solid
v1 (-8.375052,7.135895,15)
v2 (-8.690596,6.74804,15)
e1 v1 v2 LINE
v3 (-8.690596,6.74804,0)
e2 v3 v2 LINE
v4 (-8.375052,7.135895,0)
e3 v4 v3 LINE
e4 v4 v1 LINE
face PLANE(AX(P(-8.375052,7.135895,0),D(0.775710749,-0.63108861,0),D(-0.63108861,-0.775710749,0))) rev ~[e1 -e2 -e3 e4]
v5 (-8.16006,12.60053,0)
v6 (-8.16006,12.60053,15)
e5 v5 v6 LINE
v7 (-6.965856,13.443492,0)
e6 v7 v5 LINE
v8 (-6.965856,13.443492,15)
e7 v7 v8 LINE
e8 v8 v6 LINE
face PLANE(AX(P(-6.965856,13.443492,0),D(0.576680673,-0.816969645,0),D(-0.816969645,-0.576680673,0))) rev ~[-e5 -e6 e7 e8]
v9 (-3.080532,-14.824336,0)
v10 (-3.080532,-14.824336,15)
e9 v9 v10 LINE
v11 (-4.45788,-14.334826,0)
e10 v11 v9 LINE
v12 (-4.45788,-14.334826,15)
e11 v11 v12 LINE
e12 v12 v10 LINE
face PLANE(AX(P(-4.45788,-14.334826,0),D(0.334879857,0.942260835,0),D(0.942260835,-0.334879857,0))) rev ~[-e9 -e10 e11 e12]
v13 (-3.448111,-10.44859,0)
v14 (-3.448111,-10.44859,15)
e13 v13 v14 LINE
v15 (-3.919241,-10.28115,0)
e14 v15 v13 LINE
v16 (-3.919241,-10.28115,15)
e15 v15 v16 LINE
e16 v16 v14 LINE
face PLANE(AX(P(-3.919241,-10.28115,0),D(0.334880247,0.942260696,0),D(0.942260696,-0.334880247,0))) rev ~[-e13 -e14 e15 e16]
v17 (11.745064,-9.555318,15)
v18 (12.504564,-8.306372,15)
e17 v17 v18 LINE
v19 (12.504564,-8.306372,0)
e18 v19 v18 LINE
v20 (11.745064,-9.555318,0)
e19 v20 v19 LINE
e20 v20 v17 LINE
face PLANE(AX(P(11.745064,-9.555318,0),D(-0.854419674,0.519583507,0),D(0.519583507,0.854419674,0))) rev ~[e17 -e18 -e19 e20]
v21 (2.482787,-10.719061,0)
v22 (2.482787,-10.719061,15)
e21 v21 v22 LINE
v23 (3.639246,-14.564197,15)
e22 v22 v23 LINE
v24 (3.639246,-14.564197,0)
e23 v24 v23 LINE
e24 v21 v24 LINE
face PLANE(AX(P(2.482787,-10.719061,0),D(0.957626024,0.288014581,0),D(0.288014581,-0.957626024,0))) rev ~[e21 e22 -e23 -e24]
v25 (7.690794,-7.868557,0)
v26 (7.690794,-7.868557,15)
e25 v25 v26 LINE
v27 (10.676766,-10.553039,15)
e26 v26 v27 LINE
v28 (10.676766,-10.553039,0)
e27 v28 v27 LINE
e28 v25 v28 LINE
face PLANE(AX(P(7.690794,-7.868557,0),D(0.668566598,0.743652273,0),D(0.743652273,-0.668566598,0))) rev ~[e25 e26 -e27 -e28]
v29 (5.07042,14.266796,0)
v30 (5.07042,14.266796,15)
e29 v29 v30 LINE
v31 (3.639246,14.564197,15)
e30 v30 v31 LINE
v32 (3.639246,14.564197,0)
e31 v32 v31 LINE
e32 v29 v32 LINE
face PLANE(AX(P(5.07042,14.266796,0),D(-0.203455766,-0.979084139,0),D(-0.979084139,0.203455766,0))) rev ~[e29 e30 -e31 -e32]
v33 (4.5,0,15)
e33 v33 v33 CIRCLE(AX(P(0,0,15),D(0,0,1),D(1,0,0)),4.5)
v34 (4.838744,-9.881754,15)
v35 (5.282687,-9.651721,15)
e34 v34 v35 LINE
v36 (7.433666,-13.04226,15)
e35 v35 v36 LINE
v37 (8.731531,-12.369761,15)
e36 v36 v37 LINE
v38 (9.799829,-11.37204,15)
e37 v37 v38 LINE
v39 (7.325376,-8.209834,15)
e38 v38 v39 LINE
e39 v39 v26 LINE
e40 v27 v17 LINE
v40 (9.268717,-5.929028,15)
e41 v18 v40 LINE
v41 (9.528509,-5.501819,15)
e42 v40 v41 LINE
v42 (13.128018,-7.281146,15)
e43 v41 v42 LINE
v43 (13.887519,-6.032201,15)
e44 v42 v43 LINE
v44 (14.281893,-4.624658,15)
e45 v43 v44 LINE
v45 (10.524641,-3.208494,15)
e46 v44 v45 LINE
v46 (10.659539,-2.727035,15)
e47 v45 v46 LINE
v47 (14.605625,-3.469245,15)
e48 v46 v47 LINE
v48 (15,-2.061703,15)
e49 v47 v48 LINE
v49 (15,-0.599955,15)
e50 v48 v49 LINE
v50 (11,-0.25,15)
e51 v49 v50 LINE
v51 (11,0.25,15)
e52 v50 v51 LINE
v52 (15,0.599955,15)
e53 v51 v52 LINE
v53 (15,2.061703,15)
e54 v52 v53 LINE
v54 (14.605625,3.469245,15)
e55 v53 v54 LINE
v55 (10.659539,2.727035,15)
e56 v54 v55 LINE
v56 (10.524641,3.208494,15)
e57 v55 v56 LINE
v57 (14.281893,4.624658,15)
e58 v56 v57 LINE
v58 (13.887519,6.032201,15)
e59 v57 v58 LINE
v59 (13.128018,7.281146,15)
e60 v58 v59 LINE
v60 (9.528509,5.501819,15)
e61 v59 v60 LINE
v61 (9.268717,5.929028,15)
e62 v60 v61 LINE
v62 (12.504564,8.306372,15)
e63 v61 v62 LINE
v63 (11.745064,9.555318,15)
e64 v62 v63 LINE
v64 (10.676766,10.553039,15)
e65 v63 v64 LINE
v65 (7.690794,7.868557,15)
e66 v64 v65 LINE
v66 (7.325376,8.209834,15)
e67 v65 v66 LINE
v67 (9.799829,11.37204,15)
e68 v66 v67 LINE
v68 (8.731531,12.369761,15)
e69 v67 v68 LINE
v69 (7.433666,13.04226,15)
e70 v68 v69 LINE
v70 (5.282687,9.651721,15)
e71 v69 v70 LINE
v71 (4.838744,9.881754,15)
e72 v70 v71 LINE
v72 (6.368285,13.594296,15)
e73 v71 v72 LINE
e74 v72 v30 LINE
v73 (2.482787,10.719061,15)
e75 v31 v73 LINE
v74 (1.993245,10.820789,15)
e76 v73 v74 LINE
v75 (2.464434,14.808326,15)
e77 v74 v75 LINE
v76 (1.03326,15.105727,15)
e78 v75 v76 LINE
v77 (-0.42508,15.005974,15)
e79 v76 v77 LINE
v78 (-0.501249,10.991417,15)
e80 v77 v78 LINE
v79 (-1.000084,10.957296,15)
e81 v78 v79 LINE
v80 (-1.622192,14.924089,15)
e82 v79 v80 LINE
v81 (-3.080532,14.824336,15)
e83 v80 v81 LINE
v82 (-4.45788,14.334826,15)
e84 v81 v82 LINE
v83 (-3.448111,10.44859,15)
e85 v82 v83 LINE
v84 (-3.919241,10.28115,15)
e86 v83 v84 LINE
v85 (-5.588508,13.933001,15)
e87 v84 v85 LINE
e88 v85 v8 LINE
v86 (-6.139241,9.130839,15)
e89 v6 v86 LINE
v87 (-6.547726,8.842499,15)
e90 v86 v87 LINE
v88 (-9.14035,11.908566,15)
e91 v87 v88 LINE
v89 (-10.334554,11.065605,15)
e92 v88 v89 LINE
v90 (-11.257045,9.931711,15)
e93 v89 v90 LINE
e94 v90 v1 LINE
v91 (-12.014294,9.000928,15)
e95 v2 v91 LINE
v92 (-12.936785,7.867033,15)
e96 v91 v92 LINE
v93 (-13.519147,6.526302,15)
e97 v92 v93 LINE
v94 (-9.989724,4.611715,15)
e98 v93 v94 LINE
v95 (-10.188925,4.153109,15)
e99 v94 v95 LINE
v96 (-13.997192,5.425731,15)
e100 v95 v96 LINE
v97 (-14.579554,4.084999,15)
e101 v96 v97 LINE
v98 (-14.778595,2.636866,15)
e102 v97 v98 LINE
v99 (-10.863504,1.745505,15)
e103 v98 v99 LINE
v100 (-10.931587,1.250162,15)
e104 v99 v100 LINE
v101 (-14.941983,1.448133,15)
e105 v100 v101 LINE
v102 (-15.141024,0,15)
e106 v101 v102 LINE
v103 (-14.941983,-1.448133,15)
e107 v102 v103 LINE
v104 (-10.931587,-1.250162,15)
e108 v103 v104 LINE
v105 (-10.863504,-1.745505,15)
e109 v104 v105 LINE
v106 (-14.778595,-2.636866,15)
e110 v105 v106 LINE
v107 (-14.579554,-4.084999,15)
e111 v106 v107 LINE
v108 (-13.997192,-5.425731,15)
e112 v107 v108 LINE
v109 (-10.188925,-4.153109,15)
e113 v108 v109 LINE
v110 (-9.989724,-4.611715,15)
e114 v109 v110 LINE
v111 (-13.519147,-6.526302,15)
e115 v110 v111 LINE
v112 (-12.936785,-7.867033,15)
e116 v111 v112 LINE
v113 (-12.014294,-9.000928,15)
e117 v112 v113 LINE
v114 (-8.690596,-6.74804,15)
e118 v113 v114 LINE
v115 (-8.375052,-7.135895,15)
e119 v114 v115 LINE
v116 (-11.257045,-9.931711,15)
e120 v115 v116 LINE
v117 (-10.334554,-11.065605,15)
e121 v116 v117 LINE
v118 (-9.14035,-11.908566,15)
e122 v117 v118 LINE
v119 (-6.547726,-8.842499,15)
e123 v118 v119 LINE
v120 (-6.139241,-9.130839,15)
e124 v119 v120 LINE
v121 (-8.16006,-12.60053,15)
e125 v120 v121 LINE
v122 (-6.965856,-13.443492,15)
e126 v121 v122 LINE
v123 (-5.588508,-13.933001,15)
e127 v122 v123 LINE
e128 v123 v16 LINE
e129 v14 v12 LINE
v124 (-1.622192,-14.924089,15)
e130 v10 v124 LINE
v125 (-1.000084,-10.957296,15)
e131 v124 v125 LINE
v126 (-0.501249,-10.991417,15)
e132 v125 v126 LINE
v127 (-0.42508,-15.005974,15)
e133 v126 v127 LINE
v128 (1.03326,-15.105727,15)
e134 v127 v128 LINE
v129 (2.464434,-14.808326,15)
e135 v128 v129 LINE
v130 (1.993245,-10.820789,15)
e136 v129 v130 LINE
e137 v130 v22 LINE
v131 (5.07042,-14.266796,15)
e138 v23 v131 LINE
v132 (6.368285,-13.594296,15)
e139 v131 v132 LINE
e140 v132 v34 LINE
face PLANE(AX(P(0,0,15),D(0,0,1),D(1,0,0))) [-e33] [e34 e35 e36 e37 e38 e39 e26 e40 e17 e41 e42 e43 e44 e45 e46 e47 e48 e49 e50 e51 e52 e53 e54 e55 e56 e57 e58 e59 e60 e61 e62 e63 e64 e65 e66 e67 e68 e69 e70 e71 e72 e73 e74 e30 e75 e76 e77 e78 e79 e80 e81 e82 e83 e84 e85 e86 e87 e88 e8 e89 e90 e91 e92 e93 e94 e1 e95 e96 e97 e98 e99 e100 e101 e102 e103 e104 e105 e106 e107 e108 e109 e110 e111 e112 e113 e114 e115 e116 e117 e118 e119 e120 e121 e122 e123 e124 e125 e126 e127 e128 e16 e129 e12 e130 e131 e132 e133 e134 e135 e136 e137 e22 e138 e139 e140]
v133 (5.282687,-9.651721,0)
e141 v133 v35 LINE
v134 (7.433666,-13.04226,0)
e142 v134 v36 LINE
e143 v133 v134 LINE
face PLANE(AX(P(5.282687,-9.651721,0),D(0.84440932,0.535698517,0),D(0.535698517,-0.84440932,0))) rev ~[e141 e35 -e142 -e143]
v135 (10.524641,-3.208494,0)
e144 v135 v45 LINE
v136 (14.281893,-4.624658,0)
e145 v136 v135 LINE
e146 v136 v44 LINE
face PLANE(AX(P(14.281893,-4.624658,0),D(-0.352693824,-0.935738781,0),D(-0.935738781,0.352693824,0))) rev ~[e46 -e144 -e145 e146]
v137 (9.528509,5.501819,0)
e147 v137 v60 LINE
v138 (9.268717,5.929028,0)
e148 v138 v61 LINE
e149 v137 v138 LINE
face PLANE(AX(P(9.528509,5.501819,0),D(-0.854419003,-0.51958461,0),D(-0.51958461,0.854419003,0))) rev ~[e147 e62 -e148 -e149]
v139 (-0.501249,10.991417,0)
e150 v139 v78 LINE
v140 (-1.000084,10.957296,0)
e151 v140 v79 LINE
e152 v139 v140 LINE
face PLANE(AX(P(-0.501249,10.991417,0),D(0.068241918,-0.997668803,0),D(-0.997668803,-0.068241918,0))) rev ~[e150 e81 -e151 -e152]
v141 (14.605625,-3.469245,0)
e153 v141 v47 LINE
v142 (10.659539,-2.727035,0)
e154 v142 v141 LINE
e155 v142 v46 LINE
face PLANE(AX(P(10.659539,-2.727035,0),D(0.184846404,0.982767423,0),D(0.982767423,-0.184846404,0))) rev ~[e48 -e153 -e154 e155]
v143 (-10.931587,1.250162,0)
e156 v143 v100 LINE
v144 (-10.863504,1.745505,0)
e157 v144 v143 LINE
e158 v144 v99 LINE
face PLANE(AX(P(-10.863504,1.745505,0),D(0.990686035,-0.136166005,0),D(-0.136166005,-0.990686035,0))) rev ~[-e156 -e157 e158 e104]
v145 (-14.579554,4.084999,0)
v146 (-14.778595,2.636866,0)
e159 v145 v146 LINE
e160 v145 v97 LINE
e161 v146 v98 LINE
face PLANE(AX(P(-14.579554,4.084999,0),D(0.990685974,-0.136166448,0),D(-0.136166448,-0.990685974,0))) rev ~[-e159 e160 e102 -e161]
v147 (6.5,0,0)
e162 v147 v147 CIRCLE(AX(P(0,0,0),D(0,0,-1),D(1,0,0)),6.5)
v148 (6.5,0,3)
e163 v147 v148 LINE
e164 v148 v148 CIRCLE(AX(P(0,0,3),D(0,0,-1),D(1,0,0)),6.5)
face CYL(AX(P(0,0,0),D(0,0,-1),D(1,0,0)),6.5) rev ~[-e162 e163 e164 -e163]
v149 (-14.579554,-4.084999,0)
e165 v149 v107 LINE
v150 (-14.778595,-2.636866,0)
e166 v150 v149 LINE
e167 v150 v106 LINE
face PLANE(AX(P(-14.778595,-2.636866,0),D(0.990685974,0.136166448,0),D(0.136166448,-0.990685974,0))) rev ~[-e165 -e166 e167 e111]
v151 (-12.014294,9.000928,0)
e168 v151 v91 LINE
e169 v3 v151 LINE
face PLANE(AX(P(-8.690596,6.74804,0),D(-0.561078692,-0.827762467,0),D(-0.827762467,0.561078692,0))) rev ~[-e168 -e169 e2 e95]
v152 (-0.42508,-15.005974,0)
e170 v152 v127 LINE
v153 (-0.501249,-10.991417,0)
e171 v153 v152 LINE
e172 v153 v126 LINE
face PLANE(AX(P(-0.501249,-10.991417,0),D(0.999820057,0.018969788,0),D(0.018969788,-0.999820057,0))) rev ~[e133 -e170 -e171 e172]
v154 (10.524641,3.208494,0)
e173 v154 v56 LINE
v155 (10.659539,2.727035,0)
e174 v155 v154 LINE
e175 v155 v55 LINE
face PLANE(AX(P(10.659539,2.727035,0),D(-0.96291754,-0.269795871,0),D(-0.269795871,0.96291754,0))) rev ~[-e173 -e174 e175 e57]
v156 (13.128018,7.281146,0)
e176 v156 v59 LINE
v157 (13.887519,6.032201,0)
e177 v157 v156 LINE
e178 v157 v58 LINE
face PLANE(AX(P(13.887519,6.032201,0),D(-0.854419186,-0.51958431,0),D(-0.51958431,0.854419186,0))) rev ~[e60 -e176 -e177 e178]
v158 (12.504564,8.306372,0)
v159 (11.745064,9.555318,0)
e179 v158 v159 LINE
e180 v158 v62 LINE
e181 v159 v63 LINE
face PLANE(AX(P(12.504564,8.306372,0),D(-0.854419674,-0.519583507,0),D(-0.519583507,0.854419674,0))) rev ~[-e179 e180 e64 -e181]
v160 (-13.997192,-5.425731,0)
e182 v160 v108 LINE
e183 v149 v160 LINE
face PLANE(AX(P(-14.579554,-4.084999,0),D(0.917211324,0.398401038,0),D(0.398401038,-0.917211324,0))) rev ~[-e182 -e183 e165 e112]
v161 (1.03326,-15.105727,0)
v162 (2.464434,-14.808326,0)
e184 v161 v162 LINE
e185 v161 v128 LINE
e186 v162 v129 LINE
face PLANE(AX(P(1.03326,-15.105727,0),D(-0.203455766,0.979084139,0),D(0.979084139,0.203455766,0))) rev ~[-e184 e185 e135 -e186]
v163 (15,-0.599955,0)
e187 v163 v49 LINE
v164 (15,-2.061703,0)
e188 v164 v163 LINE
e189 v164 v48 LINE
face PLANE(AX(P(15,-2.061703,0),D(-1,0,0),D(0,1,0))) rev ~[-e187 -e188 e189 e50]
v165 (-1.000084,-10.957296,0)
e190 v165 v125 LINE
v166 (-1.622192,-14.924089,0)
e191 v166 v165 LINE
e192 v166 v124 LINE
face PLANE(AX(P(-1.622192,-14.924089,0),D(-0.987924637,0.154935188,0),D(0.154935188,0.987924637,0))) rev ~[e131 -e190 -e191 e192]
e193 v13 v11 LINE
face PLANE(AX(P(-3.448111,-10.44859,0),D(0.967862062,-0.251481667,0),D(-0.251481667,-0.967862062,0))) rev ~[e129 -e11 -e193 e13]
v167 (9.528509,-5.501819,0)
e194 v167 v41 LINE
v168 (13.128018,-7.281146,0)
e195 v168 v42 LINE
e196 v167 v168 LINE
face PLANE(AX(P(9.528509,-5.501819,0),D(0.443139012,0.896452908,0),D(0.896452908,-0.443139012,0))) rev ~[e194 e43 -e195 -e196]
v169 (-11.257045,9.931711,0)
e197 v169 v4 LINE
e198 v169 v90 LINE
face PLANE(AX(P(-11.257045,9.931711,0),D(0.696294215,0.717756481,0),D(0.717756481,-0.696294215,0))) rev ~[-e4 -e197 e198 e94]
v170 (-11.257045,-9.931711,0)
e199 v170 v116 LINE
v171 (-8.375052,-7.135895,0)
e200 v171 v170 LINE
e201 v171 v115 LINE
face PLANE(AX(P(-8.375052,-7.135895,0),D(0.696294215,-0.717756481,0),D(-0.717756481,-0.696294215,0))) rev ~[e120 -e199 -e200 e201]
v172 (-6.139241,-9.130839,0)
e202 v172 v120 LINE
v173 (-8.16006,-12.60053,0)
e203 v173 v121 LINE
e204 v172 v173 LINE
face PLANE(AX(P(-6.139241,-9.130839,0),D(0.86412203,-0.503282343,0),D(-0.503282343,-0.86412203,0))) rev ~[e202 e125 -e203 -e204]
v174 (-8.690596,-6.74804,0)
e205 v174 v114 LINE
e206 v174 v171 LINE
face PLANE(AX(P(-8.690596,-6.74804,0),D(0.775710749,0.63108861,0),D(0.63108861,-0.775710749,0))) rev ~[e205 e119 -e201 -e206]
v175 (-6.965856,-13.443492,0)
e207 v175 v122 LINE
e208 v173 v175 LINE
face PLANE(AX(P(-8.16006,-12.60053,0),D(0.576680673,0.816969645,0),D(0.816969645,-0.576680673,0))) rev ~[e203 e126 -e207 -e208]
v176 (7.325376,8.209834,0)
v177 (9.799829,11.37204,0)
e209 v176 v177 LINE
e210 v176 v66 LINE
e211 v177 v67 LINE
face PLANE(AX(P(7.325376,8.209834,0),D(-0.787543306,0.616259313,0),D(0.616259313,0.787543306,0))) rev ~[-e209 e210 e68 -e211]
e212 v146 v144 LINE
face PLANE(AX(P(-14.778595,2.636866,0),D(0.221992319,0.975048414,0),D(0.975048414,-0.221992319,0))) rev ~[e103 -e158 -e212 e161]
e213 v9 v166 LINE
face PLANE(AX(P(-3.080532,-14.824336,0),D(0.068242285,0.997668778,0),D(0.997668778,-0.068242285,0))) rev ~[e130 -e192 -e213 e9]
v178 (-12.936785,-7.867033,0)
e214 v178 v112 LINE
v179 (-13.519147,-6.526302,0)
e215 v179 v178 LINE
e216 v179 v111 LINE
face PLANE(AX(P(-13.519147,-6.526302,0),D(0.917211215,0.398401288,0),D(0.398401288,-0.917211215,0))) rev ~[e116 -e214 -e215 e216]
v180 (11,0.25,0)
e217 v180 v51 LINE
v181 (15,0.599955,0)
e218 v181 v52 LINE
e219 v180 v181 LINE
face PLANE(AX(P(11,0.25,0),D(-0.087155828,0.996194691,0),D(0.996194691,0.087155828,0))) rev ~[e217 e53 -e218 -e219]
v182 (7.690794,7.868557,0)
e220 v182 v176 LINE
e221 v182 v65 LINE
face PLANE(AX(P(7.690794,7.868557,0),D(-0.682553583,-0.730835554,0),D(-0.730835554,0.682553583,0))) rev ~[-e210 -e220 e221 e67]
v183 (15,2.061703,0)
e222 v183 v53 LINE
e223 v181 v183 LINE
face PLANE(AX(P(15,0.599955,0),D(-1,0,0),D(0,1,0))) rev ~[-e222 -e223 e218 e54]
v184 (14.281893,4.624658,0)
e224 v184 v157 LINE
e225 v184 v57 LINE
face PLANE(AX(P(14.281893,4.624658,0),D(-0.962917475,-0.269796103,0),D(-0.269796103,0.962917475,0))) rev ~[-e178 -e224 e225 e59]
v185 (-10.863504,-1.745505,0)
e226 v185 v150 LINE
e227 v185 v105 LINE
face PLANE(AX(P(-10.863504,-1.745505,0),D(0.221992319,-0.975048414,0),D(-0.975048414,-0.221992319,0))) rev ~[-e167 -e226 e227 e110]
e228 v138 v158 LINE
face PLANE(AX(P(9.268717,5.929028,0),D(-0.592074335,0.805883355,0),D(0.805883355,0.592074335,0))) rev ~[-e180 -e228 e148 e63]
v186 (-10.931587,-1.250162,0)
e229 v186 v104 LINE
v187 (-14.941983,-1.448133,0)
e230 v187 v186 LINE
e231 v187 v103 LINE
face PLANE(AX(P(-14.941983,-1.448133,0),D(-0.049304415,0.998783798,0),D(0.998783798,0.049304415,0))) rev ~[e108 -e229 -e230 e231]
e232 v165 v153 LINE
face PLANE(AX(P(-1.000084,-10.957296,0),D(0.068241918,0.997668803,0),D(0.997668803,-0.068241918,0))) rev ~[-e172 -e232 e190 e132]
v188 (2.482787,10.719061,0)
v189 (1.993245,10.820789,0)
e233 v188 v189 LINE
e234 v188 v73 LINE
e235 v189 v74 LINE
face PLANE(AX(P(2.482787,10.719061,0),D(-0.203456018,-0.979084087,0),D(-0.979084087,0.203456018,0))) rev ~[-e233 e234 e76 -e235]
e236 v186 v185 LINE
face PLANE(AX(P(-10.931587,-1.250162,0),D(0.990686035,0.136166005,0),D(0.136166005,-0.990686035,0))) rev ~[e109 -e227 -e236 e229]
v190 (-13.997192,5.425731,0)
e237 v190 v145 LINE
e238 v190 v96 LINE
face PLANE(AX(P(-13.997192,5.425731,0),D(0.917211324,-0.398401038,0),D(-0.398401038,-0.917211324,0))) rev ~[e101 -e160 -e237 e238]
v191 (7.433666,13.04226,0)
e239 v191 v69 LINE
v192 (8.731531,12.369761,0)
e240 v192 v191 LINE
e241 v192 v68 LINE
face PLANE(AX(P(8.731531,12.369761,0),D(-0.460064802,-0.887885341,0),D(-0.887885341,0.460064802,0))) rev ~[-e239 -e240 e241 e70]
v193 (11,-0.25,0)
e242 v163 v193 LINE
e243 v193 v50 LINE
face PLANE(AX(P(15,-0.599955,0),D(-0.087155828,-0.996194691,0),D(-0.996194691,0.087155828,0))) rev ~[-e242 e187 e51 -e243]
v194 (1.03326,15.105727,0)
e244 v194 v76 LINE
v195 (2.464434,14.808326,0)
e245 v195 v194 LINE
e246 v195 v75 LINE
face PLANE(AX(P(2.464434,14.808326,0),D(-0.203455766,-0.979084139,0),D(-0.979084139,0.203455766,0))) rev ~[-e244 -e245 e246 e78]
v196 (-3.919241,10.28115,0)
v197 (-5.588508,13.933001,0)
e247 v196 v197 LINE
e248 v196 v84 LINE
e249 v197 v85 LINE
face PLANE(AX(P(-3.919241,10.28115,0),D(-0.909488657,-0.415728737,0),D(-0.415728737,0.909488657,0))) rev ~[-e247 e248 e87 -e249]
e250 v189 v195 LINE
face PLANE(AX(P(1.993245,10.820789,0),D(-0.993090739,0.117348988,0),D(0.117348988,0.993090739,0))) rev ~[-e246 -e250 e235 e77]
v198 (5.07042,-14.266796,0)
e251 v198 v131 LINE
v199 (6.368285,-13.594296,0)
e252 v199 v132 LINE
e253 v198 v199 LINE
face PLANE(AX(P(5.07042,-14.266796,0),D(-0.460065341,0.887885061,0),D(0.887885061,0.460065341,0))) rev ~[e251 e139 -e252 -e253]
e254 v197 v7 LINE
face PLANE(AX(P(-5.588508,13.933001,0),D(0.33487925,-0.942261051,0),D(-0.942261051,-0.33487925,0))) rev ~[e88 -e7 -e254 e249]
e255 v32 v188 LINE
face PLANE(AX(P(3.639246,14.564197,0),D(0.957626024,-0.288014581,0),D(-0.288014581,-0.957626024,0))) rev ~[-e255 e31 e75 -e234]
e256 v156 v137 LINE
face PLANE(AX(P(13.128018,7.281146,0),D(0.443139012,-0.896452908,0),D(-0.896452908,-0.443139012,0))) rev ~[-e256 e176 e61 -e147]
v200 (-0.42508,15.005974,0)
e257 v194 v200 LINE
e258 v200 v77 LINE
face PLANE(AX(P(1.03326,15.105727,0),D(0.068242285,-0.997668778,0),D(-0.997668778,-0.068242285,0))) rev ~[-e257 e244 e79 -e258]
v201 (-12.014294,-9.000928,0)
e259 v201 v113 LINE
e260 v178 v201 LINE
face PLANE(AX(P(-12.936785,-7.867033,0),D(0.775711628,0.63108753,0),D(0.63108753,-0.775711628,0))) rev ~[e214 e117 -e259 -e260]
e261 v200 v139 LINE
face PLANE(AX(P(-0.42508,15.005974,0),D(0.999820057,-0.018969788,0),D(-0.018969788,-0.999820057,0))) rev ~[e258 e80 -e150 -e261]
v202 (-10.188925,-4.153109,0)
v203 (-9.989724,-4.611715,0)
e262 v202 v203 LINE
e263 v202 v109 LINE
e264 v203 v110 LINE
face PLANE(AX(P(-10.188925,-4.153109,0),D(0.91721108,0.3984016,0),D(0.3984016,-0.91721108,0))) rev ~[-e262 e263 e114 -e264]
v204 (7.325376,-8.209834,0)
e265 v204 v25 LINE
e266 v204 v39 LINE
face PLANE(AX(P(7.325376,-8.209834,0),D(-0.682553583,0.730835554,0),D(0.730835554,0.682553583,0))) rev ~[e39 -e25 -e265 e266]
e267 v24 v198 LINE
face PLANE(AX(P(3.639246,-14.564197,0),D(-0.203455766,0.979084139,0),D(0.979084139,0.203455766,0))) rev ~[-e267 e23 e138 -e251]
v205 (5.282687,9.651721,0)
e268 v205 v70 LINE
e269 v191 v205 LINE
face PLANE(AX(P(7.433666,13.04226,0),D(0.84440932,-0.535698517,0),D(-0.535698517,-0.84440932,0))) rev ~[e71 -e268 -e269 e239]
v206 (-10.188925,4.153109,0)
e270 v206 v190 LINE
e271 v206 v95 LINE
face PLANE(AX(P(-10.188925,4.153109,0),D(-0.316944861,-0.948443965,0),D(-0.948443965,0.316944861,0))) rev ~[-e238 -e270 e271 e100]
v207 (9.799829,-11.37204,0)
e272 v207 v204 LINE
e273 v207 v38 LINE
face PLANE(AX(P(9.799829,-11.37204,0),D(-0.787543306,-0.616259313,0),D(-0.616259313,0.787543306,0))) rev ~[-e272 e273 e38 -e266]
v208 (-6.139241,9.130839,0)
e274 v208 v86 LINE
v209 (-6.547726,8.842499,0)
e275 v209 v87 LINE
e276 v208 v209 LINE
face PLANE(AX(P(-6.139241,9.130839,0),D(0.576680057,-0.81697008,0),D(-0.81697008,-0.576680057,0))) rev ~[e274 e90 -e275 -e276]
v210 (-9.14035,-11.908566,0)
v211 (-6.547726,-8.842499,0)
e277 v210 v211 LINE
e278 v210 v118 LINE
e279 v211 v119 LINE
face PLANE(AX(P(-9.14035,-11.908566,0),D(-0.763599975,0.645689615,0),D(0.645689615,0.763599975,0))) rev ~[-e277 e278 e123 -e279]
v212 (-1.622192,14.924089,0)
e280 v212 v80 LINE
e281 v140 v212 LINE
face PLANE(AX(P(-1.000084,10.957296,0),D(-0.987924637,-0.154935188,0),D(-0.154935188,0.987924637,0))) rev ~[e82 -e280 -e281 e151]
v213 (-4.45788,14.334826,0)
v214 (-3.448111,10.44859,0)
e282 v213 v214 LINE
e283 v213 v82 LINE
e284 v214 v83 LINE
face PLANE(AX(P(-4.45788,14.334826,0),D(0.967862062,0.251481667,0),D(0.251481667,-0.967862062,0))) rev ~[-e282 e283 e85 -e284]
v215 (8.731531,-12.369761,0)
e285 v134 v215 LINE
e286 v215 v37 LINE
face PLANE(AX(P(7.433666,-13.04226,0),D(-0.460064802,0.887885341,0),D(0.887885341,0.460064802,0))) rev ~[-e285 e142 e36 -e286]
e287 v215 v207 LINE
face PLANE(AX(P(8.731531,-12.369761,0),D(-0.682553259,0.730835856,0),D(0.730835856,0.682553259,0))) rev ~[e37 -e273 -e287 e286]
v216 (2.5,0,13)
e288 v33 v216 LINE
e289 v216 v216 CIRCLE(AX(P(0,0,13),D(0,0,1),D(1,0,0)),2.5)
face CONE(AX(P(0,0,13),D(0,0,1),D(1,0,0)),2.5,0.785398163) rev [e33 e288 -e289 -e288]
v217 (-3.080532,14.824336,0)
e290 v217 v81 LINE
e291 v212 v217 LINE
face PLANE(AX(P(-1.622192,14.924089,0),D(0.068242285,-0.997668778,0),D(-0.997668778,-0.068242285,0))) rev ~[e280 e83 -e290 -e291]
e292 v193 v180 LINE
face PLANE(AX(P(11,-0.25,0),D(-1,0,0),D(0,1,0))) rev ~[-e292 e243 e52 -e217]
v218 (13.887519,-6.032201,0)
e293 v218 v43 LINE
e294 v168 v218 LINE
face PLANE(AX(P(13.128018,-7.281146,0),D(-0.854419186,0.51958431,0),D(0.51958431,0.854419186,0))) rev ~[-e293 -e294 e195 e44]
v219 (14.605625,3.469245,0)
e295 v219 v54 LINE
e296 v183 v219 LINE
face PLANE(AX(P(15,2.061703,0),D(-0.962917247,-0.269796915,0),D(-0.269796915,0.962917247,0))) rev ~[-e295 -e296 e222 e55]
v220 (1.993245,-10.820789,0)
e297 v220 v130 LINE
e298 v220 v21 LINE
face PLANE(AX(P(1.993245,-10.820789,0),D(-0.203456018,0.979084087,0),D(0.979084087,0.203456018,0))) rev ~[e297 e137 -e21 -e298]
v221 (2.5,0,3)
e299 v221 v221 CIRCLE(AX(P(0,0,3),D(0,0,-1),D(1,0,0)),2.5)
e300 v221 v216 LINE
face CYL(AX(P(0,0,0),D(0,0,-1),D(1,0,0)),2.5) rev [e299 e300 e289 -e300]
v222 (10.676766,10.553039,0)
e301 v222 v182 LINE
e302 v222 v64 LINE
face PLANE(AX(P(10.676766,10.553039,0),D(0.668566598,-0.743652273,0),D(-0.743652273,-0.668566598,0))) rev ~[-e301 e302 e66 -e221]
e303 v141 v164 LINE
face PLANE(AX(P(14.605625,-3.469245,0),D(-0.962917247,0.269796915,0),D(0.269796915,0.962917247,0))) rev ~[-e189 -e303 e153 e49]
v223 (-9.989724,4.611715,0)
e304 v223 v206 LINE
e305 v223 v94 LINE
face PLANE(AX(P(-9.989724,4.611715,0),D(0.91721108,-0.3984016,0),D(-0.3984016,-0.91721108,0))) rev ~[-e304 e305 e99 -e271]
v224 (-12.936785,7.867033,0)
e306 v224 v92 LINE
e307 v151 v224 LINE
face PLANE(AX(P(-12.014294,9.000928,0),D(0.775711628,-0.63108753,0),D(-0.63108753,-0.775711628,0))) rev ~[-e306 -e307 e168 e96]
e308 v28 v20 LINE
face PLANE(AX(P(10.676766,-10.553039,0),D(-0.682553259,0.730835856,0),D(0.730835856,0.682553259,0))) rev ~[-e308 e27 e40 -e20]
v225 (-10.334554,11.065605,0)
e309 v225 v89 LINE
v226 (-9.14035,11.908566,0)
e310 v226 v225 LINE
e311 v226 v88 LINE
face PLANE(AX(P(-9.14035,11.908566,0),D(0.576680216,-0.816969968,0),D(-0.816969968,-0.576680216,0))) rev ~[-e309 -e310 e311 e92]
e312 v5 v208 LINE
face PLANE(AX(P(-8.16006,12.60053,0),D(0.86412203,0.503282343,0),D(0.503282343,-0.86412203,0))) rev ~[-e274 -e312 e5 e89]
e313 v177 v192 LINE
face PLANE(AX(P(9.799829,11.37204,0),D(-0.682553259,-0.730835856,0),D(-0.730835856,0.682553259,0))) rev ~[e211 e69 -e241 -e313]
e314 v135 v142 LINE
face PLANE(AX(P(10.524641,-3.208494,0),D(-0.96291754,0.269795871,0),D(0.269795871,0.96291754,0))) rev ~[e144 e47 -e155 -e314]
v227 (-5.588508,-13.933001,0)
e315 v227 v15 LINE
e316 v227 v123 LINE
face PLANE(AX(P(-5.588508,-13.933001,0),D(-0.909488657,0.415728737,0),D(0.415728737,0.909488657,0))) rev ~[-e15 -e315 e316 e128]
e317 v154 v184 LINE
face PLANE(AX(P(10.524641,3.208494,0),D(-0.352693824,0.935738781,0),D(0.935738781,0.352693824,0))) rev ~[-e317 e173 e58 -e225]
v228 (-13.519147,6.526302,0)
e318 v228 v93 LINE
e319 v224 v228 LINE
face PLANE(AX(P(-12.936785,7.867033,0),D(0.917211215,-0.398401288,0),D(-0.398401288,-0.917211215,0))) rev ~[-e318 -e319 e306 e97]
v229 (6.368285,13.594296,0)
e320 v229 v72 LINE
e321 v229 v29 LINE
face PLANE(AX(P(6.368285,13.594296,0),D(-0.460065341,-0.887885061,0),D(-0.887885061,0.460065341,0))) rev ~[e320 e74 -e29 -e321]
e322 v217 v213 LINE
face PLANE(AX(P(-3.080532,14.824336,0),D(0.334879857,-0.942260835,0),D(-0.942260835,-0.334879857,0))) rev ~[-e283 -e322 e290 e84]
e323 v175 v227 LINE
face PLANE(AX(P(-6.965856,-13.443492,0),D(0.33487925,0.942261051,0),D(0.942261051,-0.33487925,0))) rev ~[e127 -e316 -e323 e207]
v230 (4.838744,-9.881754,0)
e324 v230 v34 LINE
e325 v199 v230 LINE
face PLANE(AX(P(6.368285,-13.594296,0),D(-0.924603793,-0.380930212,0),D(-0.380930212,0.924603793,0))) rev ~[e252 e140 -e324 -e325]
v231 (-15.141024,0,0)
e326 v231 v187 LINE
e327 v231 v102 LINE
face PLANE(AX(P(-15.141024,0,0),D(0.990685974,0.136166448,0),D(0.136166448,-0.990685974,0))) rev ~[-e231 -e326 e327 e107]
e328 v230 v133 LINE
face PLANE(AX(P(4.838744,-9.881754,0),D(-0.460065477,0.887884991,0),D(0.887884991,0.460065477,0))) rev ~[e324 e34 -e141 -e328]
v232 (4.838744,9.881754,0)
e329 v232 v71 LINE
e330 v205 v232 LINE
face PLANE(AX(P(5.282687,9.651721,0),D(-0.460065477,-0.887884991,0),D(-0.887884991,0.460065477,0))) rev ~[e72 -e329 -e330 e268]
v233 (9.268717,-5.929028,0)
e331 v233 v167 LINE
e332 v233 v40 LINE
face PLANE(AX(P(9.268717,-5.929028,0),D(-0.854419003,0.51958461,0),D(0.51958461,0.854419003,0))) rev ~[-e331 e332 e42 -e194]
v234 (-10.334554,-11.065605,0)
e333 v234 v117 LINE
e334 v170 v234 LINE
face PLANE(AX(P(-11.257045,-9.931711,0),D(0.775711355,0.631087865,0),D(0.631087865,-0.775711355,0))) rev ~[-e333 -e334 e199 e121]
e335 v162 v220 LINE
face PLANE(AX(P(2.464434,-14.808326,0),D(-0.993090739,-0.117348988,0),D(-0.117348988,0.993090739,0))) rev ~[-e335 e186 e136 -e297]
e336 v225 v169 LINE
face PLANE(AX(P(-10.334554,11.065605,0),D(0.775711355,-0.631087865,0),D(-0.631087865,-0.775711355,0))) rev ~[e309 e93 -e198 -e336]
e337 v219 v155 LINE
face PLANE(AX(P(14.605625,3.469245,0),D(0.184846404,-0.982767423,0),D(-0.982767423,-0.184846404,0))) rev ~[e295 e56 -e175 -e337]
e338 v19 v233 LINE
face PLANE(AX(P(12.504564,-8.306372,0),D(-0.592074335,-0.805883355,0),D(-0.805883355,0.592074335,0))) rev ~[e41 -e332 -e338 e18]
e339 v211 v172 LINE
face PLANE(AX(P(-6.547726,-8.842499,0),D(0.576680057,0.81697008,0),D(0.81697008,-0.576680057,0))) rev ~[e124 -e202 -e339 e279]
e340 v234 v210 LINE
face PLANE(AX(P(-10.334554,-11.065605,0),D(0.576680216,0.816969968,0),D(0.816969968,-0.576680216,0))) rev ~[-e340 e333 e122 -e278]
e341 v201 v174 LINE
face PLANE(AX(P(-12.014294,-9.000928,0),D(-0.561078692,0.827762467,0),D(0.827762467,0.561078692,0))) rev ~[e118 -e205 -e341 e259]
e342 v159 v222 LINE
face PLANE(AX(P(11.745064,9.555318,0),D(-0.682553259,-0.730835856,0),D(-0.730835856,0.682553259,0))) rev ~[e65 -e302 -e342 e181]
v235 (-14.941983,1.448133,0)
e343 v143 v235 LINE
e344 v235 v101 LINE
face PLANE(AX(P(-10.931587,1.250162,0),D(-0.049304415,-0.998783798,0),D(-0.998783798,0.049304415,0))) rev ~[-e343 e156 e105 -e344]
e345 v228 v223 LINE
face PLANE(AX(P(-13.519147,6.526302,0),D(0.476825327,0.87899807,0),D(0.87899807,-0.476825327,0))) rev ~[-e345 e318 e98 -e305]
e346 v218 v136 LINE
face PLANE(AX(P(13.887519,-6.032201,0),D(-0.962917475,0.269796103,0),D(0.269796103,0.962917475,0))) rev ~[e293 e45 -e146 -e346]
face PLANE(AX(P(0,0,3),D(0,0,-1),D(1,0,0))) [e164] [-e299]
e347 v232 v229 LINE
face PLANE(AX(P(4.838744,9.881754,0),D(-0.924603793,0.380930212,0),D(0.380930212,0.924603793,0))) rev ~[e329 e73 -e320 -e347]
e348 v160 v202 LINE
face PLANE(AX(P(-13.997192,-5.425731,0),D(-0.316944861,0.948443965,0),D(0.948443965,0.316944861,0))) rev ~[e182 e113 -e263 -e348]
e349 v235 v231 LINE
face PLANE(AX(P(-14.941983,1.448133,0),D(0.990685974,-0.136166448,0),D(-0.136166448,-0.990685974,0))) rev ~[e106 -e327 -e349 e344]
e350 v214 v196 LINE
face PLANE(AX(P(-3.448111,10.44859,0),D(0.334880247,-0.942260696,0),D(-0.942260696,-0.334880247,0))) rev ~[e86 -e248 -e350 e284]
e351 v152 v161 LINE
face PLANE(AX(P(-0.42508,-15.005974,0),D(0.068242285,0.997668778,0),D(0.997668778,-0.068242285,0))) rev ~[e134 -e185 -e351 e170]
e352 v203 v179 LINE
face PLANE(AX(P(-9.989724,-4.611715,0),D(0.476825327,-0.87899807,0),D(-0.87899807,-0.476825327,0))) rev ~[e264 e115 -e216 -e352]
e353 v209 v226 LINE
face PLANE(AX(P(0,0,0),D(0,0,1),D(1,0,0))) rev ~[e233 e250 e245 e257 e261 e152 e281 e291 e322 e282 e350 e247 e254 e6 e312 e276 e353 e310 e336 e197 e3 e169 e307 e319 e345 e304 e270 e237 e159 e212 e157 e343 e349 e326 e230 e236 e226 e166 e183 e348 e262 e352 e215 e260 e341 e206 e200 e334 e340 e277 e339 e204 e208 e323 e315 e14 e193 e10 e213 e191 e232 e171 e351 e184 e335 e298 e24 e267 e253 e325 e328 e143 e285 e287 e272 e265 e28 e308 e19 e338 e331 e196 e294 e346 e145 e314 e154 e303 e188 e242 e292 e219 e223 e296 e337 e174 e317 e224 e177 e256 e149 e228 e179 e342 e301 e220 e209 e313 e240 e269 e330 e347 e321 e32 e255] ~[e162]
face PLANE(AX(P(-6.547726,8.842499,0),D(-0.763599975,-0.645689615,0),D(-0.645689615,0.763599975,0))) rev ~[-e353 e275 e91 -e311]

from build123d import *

# Parameters (mm, degrees)
F0_R     = 2.5
F1_DEPTH = 15
F2_R     = 6.5
F3_DEPTH = 3
F4_SIZE  = 2


with BuildPart() as f1:
    # F0 (on Top) → F1 (new body)
    with BuildSketch(Plane.XY):
        Polygon((15, 0.599955), (15, 2.061703), (14.605625, 3.469245), (10.659539, 2.727035), (10.524641, 3.208494), (14.281893, 4.624658), (13.887519, 6.032201), (13.128018, 7.281146), (9.528509, 5.501819), (9.268717, 5.929028), (12.504564, 8.306372), (11.745064, 9.555318), (10.676766, 10.553039), (7.690794, 7.868557), (7.325376, 8.209834), (9.799829, 11.37204), (8.731531, 12.369761), (7.433666, 13.04226), (5.282687, 9.651721), (4.838744, 9.881754), (6.368285, 13.594296), (5.07042, 14.266796), (3.639246, 14.564197), (2.482787, 10.719061), (1.993245, 10.820789), (2.464434, 14.808326), (1.03326, 15.105727), (-0.42508, 15.005974), (-0.501249, 10.991417), (-1.000084, 10.957296), (-1.622192, 14.924089), (-3.080532, 14.824336), (-4.45788, 14.334826), (-3.448111, 10.44859), (-3.919241, 10.28115), (-5.588508, 13.933001), (-6.965856, 13.443492), (-8.16006, 12.60053), (-6.139241, 9.130839), (-6.547726, 8.842499), (-9.14035, 11.908566), (-10.334554, 11.065605), (-11.257045, 9.931711), (-8.375052, 7.135895), (-8.690596, 6.74804), (-12.014294, 9.000928), (-12.936785, 7.867033), (-13.519147, 6.526302), (-9.989724, 4.611715), (-10.188925, 4.153109), (-13.997192, 5.425731), (-14.579554, 4.084999), (-14.778595, 2.636866), (-10.863504, 1.745505), (-10.931587, 1.250162), (-14.941983, 1.448133), (-15.141024, 0), (-14.941983, -1.448133), (-10.931587, -1.250162), (-10.863504, -1.745505), (-14.778595, -2.636866), (-14.579554, -4.084999), (-13.997192, -5.425731), (-10.188925, -4.153109), (-9.989724, -4.611715), (-13.519147, -6.526302), (-12.936785, -7.867033), (-12.014294, -9.000928), (-8.690596, -6.74804), (-8.375052, -7.135895), (-11.257045, -9.931711), (-10.334554, -11.065605), (-9.14035, -11.908566), (-6.547726, -8.842499), (-6.139241, -9.130839), (-8.16006, -12.60053), (-6.965856, -13.443492), (-5.588508, -13.933001), (-3.919241, -10.28115), (-3.448111, -10.44859), (-4.45788, -14.334826), (-3.080532, -14.824336), (-1.622192, -14.924089), (-1.000084, -10.957296), (-0.501249, -10.991417), (-0.42508, -15.005974), (1.03326, -15.105727), (2.464434, -14.808326), (1.993245, -10.820789), (2.482787, -10.719061), (3.639246, -14.564197), (5.07042, -14.266796), (6.368285, -13.594296), (4.838744, -9.881754), (5.282687, -9.651721), (7.433666, -13.04226), (8.731531, -12.369761), (9.799829, -11.37204), (7.325376, -8.209834), (7.690794, -7.868557), (10.676766, -10.553039), (11.745064, -9.555318), (12.504564, -8.306372), (9.268717, -5.929028), (9.528509, -5.501819), (13.128018, -7.281146), (13.887519, -6.032201), (14.281893, -4.624658), (10.524641, -3.208494), (10.659539, -2.727035), (14.605625, -3.469245), (15, -2.061703), (15, -0.599955), (11, -0.25), (11, 0.25), align=None)
        Circle(F0_R, mode=Mode.SUBTRACT)
    extrude(amount=F1_DEPTH)

    # F2 (on face) → F3 (cut)
    with BuildSketch(Plane(origin=(0, 0, 0), x_dir=(1, 0, 0), z_dir=(0, 0, -1))):
        Circle(F2_R)
    extrude(amount=-F3_DEPTH, mode=Mode.SUBTRACT)

    # F4
    f4_edges = [f1.edges().sort_by_distance(p)[0] for p in [
        (-2.5, 0, 15),
    ]]
    chamfer(f4_edges, length=F4_SIZE)


solid = f1.part
